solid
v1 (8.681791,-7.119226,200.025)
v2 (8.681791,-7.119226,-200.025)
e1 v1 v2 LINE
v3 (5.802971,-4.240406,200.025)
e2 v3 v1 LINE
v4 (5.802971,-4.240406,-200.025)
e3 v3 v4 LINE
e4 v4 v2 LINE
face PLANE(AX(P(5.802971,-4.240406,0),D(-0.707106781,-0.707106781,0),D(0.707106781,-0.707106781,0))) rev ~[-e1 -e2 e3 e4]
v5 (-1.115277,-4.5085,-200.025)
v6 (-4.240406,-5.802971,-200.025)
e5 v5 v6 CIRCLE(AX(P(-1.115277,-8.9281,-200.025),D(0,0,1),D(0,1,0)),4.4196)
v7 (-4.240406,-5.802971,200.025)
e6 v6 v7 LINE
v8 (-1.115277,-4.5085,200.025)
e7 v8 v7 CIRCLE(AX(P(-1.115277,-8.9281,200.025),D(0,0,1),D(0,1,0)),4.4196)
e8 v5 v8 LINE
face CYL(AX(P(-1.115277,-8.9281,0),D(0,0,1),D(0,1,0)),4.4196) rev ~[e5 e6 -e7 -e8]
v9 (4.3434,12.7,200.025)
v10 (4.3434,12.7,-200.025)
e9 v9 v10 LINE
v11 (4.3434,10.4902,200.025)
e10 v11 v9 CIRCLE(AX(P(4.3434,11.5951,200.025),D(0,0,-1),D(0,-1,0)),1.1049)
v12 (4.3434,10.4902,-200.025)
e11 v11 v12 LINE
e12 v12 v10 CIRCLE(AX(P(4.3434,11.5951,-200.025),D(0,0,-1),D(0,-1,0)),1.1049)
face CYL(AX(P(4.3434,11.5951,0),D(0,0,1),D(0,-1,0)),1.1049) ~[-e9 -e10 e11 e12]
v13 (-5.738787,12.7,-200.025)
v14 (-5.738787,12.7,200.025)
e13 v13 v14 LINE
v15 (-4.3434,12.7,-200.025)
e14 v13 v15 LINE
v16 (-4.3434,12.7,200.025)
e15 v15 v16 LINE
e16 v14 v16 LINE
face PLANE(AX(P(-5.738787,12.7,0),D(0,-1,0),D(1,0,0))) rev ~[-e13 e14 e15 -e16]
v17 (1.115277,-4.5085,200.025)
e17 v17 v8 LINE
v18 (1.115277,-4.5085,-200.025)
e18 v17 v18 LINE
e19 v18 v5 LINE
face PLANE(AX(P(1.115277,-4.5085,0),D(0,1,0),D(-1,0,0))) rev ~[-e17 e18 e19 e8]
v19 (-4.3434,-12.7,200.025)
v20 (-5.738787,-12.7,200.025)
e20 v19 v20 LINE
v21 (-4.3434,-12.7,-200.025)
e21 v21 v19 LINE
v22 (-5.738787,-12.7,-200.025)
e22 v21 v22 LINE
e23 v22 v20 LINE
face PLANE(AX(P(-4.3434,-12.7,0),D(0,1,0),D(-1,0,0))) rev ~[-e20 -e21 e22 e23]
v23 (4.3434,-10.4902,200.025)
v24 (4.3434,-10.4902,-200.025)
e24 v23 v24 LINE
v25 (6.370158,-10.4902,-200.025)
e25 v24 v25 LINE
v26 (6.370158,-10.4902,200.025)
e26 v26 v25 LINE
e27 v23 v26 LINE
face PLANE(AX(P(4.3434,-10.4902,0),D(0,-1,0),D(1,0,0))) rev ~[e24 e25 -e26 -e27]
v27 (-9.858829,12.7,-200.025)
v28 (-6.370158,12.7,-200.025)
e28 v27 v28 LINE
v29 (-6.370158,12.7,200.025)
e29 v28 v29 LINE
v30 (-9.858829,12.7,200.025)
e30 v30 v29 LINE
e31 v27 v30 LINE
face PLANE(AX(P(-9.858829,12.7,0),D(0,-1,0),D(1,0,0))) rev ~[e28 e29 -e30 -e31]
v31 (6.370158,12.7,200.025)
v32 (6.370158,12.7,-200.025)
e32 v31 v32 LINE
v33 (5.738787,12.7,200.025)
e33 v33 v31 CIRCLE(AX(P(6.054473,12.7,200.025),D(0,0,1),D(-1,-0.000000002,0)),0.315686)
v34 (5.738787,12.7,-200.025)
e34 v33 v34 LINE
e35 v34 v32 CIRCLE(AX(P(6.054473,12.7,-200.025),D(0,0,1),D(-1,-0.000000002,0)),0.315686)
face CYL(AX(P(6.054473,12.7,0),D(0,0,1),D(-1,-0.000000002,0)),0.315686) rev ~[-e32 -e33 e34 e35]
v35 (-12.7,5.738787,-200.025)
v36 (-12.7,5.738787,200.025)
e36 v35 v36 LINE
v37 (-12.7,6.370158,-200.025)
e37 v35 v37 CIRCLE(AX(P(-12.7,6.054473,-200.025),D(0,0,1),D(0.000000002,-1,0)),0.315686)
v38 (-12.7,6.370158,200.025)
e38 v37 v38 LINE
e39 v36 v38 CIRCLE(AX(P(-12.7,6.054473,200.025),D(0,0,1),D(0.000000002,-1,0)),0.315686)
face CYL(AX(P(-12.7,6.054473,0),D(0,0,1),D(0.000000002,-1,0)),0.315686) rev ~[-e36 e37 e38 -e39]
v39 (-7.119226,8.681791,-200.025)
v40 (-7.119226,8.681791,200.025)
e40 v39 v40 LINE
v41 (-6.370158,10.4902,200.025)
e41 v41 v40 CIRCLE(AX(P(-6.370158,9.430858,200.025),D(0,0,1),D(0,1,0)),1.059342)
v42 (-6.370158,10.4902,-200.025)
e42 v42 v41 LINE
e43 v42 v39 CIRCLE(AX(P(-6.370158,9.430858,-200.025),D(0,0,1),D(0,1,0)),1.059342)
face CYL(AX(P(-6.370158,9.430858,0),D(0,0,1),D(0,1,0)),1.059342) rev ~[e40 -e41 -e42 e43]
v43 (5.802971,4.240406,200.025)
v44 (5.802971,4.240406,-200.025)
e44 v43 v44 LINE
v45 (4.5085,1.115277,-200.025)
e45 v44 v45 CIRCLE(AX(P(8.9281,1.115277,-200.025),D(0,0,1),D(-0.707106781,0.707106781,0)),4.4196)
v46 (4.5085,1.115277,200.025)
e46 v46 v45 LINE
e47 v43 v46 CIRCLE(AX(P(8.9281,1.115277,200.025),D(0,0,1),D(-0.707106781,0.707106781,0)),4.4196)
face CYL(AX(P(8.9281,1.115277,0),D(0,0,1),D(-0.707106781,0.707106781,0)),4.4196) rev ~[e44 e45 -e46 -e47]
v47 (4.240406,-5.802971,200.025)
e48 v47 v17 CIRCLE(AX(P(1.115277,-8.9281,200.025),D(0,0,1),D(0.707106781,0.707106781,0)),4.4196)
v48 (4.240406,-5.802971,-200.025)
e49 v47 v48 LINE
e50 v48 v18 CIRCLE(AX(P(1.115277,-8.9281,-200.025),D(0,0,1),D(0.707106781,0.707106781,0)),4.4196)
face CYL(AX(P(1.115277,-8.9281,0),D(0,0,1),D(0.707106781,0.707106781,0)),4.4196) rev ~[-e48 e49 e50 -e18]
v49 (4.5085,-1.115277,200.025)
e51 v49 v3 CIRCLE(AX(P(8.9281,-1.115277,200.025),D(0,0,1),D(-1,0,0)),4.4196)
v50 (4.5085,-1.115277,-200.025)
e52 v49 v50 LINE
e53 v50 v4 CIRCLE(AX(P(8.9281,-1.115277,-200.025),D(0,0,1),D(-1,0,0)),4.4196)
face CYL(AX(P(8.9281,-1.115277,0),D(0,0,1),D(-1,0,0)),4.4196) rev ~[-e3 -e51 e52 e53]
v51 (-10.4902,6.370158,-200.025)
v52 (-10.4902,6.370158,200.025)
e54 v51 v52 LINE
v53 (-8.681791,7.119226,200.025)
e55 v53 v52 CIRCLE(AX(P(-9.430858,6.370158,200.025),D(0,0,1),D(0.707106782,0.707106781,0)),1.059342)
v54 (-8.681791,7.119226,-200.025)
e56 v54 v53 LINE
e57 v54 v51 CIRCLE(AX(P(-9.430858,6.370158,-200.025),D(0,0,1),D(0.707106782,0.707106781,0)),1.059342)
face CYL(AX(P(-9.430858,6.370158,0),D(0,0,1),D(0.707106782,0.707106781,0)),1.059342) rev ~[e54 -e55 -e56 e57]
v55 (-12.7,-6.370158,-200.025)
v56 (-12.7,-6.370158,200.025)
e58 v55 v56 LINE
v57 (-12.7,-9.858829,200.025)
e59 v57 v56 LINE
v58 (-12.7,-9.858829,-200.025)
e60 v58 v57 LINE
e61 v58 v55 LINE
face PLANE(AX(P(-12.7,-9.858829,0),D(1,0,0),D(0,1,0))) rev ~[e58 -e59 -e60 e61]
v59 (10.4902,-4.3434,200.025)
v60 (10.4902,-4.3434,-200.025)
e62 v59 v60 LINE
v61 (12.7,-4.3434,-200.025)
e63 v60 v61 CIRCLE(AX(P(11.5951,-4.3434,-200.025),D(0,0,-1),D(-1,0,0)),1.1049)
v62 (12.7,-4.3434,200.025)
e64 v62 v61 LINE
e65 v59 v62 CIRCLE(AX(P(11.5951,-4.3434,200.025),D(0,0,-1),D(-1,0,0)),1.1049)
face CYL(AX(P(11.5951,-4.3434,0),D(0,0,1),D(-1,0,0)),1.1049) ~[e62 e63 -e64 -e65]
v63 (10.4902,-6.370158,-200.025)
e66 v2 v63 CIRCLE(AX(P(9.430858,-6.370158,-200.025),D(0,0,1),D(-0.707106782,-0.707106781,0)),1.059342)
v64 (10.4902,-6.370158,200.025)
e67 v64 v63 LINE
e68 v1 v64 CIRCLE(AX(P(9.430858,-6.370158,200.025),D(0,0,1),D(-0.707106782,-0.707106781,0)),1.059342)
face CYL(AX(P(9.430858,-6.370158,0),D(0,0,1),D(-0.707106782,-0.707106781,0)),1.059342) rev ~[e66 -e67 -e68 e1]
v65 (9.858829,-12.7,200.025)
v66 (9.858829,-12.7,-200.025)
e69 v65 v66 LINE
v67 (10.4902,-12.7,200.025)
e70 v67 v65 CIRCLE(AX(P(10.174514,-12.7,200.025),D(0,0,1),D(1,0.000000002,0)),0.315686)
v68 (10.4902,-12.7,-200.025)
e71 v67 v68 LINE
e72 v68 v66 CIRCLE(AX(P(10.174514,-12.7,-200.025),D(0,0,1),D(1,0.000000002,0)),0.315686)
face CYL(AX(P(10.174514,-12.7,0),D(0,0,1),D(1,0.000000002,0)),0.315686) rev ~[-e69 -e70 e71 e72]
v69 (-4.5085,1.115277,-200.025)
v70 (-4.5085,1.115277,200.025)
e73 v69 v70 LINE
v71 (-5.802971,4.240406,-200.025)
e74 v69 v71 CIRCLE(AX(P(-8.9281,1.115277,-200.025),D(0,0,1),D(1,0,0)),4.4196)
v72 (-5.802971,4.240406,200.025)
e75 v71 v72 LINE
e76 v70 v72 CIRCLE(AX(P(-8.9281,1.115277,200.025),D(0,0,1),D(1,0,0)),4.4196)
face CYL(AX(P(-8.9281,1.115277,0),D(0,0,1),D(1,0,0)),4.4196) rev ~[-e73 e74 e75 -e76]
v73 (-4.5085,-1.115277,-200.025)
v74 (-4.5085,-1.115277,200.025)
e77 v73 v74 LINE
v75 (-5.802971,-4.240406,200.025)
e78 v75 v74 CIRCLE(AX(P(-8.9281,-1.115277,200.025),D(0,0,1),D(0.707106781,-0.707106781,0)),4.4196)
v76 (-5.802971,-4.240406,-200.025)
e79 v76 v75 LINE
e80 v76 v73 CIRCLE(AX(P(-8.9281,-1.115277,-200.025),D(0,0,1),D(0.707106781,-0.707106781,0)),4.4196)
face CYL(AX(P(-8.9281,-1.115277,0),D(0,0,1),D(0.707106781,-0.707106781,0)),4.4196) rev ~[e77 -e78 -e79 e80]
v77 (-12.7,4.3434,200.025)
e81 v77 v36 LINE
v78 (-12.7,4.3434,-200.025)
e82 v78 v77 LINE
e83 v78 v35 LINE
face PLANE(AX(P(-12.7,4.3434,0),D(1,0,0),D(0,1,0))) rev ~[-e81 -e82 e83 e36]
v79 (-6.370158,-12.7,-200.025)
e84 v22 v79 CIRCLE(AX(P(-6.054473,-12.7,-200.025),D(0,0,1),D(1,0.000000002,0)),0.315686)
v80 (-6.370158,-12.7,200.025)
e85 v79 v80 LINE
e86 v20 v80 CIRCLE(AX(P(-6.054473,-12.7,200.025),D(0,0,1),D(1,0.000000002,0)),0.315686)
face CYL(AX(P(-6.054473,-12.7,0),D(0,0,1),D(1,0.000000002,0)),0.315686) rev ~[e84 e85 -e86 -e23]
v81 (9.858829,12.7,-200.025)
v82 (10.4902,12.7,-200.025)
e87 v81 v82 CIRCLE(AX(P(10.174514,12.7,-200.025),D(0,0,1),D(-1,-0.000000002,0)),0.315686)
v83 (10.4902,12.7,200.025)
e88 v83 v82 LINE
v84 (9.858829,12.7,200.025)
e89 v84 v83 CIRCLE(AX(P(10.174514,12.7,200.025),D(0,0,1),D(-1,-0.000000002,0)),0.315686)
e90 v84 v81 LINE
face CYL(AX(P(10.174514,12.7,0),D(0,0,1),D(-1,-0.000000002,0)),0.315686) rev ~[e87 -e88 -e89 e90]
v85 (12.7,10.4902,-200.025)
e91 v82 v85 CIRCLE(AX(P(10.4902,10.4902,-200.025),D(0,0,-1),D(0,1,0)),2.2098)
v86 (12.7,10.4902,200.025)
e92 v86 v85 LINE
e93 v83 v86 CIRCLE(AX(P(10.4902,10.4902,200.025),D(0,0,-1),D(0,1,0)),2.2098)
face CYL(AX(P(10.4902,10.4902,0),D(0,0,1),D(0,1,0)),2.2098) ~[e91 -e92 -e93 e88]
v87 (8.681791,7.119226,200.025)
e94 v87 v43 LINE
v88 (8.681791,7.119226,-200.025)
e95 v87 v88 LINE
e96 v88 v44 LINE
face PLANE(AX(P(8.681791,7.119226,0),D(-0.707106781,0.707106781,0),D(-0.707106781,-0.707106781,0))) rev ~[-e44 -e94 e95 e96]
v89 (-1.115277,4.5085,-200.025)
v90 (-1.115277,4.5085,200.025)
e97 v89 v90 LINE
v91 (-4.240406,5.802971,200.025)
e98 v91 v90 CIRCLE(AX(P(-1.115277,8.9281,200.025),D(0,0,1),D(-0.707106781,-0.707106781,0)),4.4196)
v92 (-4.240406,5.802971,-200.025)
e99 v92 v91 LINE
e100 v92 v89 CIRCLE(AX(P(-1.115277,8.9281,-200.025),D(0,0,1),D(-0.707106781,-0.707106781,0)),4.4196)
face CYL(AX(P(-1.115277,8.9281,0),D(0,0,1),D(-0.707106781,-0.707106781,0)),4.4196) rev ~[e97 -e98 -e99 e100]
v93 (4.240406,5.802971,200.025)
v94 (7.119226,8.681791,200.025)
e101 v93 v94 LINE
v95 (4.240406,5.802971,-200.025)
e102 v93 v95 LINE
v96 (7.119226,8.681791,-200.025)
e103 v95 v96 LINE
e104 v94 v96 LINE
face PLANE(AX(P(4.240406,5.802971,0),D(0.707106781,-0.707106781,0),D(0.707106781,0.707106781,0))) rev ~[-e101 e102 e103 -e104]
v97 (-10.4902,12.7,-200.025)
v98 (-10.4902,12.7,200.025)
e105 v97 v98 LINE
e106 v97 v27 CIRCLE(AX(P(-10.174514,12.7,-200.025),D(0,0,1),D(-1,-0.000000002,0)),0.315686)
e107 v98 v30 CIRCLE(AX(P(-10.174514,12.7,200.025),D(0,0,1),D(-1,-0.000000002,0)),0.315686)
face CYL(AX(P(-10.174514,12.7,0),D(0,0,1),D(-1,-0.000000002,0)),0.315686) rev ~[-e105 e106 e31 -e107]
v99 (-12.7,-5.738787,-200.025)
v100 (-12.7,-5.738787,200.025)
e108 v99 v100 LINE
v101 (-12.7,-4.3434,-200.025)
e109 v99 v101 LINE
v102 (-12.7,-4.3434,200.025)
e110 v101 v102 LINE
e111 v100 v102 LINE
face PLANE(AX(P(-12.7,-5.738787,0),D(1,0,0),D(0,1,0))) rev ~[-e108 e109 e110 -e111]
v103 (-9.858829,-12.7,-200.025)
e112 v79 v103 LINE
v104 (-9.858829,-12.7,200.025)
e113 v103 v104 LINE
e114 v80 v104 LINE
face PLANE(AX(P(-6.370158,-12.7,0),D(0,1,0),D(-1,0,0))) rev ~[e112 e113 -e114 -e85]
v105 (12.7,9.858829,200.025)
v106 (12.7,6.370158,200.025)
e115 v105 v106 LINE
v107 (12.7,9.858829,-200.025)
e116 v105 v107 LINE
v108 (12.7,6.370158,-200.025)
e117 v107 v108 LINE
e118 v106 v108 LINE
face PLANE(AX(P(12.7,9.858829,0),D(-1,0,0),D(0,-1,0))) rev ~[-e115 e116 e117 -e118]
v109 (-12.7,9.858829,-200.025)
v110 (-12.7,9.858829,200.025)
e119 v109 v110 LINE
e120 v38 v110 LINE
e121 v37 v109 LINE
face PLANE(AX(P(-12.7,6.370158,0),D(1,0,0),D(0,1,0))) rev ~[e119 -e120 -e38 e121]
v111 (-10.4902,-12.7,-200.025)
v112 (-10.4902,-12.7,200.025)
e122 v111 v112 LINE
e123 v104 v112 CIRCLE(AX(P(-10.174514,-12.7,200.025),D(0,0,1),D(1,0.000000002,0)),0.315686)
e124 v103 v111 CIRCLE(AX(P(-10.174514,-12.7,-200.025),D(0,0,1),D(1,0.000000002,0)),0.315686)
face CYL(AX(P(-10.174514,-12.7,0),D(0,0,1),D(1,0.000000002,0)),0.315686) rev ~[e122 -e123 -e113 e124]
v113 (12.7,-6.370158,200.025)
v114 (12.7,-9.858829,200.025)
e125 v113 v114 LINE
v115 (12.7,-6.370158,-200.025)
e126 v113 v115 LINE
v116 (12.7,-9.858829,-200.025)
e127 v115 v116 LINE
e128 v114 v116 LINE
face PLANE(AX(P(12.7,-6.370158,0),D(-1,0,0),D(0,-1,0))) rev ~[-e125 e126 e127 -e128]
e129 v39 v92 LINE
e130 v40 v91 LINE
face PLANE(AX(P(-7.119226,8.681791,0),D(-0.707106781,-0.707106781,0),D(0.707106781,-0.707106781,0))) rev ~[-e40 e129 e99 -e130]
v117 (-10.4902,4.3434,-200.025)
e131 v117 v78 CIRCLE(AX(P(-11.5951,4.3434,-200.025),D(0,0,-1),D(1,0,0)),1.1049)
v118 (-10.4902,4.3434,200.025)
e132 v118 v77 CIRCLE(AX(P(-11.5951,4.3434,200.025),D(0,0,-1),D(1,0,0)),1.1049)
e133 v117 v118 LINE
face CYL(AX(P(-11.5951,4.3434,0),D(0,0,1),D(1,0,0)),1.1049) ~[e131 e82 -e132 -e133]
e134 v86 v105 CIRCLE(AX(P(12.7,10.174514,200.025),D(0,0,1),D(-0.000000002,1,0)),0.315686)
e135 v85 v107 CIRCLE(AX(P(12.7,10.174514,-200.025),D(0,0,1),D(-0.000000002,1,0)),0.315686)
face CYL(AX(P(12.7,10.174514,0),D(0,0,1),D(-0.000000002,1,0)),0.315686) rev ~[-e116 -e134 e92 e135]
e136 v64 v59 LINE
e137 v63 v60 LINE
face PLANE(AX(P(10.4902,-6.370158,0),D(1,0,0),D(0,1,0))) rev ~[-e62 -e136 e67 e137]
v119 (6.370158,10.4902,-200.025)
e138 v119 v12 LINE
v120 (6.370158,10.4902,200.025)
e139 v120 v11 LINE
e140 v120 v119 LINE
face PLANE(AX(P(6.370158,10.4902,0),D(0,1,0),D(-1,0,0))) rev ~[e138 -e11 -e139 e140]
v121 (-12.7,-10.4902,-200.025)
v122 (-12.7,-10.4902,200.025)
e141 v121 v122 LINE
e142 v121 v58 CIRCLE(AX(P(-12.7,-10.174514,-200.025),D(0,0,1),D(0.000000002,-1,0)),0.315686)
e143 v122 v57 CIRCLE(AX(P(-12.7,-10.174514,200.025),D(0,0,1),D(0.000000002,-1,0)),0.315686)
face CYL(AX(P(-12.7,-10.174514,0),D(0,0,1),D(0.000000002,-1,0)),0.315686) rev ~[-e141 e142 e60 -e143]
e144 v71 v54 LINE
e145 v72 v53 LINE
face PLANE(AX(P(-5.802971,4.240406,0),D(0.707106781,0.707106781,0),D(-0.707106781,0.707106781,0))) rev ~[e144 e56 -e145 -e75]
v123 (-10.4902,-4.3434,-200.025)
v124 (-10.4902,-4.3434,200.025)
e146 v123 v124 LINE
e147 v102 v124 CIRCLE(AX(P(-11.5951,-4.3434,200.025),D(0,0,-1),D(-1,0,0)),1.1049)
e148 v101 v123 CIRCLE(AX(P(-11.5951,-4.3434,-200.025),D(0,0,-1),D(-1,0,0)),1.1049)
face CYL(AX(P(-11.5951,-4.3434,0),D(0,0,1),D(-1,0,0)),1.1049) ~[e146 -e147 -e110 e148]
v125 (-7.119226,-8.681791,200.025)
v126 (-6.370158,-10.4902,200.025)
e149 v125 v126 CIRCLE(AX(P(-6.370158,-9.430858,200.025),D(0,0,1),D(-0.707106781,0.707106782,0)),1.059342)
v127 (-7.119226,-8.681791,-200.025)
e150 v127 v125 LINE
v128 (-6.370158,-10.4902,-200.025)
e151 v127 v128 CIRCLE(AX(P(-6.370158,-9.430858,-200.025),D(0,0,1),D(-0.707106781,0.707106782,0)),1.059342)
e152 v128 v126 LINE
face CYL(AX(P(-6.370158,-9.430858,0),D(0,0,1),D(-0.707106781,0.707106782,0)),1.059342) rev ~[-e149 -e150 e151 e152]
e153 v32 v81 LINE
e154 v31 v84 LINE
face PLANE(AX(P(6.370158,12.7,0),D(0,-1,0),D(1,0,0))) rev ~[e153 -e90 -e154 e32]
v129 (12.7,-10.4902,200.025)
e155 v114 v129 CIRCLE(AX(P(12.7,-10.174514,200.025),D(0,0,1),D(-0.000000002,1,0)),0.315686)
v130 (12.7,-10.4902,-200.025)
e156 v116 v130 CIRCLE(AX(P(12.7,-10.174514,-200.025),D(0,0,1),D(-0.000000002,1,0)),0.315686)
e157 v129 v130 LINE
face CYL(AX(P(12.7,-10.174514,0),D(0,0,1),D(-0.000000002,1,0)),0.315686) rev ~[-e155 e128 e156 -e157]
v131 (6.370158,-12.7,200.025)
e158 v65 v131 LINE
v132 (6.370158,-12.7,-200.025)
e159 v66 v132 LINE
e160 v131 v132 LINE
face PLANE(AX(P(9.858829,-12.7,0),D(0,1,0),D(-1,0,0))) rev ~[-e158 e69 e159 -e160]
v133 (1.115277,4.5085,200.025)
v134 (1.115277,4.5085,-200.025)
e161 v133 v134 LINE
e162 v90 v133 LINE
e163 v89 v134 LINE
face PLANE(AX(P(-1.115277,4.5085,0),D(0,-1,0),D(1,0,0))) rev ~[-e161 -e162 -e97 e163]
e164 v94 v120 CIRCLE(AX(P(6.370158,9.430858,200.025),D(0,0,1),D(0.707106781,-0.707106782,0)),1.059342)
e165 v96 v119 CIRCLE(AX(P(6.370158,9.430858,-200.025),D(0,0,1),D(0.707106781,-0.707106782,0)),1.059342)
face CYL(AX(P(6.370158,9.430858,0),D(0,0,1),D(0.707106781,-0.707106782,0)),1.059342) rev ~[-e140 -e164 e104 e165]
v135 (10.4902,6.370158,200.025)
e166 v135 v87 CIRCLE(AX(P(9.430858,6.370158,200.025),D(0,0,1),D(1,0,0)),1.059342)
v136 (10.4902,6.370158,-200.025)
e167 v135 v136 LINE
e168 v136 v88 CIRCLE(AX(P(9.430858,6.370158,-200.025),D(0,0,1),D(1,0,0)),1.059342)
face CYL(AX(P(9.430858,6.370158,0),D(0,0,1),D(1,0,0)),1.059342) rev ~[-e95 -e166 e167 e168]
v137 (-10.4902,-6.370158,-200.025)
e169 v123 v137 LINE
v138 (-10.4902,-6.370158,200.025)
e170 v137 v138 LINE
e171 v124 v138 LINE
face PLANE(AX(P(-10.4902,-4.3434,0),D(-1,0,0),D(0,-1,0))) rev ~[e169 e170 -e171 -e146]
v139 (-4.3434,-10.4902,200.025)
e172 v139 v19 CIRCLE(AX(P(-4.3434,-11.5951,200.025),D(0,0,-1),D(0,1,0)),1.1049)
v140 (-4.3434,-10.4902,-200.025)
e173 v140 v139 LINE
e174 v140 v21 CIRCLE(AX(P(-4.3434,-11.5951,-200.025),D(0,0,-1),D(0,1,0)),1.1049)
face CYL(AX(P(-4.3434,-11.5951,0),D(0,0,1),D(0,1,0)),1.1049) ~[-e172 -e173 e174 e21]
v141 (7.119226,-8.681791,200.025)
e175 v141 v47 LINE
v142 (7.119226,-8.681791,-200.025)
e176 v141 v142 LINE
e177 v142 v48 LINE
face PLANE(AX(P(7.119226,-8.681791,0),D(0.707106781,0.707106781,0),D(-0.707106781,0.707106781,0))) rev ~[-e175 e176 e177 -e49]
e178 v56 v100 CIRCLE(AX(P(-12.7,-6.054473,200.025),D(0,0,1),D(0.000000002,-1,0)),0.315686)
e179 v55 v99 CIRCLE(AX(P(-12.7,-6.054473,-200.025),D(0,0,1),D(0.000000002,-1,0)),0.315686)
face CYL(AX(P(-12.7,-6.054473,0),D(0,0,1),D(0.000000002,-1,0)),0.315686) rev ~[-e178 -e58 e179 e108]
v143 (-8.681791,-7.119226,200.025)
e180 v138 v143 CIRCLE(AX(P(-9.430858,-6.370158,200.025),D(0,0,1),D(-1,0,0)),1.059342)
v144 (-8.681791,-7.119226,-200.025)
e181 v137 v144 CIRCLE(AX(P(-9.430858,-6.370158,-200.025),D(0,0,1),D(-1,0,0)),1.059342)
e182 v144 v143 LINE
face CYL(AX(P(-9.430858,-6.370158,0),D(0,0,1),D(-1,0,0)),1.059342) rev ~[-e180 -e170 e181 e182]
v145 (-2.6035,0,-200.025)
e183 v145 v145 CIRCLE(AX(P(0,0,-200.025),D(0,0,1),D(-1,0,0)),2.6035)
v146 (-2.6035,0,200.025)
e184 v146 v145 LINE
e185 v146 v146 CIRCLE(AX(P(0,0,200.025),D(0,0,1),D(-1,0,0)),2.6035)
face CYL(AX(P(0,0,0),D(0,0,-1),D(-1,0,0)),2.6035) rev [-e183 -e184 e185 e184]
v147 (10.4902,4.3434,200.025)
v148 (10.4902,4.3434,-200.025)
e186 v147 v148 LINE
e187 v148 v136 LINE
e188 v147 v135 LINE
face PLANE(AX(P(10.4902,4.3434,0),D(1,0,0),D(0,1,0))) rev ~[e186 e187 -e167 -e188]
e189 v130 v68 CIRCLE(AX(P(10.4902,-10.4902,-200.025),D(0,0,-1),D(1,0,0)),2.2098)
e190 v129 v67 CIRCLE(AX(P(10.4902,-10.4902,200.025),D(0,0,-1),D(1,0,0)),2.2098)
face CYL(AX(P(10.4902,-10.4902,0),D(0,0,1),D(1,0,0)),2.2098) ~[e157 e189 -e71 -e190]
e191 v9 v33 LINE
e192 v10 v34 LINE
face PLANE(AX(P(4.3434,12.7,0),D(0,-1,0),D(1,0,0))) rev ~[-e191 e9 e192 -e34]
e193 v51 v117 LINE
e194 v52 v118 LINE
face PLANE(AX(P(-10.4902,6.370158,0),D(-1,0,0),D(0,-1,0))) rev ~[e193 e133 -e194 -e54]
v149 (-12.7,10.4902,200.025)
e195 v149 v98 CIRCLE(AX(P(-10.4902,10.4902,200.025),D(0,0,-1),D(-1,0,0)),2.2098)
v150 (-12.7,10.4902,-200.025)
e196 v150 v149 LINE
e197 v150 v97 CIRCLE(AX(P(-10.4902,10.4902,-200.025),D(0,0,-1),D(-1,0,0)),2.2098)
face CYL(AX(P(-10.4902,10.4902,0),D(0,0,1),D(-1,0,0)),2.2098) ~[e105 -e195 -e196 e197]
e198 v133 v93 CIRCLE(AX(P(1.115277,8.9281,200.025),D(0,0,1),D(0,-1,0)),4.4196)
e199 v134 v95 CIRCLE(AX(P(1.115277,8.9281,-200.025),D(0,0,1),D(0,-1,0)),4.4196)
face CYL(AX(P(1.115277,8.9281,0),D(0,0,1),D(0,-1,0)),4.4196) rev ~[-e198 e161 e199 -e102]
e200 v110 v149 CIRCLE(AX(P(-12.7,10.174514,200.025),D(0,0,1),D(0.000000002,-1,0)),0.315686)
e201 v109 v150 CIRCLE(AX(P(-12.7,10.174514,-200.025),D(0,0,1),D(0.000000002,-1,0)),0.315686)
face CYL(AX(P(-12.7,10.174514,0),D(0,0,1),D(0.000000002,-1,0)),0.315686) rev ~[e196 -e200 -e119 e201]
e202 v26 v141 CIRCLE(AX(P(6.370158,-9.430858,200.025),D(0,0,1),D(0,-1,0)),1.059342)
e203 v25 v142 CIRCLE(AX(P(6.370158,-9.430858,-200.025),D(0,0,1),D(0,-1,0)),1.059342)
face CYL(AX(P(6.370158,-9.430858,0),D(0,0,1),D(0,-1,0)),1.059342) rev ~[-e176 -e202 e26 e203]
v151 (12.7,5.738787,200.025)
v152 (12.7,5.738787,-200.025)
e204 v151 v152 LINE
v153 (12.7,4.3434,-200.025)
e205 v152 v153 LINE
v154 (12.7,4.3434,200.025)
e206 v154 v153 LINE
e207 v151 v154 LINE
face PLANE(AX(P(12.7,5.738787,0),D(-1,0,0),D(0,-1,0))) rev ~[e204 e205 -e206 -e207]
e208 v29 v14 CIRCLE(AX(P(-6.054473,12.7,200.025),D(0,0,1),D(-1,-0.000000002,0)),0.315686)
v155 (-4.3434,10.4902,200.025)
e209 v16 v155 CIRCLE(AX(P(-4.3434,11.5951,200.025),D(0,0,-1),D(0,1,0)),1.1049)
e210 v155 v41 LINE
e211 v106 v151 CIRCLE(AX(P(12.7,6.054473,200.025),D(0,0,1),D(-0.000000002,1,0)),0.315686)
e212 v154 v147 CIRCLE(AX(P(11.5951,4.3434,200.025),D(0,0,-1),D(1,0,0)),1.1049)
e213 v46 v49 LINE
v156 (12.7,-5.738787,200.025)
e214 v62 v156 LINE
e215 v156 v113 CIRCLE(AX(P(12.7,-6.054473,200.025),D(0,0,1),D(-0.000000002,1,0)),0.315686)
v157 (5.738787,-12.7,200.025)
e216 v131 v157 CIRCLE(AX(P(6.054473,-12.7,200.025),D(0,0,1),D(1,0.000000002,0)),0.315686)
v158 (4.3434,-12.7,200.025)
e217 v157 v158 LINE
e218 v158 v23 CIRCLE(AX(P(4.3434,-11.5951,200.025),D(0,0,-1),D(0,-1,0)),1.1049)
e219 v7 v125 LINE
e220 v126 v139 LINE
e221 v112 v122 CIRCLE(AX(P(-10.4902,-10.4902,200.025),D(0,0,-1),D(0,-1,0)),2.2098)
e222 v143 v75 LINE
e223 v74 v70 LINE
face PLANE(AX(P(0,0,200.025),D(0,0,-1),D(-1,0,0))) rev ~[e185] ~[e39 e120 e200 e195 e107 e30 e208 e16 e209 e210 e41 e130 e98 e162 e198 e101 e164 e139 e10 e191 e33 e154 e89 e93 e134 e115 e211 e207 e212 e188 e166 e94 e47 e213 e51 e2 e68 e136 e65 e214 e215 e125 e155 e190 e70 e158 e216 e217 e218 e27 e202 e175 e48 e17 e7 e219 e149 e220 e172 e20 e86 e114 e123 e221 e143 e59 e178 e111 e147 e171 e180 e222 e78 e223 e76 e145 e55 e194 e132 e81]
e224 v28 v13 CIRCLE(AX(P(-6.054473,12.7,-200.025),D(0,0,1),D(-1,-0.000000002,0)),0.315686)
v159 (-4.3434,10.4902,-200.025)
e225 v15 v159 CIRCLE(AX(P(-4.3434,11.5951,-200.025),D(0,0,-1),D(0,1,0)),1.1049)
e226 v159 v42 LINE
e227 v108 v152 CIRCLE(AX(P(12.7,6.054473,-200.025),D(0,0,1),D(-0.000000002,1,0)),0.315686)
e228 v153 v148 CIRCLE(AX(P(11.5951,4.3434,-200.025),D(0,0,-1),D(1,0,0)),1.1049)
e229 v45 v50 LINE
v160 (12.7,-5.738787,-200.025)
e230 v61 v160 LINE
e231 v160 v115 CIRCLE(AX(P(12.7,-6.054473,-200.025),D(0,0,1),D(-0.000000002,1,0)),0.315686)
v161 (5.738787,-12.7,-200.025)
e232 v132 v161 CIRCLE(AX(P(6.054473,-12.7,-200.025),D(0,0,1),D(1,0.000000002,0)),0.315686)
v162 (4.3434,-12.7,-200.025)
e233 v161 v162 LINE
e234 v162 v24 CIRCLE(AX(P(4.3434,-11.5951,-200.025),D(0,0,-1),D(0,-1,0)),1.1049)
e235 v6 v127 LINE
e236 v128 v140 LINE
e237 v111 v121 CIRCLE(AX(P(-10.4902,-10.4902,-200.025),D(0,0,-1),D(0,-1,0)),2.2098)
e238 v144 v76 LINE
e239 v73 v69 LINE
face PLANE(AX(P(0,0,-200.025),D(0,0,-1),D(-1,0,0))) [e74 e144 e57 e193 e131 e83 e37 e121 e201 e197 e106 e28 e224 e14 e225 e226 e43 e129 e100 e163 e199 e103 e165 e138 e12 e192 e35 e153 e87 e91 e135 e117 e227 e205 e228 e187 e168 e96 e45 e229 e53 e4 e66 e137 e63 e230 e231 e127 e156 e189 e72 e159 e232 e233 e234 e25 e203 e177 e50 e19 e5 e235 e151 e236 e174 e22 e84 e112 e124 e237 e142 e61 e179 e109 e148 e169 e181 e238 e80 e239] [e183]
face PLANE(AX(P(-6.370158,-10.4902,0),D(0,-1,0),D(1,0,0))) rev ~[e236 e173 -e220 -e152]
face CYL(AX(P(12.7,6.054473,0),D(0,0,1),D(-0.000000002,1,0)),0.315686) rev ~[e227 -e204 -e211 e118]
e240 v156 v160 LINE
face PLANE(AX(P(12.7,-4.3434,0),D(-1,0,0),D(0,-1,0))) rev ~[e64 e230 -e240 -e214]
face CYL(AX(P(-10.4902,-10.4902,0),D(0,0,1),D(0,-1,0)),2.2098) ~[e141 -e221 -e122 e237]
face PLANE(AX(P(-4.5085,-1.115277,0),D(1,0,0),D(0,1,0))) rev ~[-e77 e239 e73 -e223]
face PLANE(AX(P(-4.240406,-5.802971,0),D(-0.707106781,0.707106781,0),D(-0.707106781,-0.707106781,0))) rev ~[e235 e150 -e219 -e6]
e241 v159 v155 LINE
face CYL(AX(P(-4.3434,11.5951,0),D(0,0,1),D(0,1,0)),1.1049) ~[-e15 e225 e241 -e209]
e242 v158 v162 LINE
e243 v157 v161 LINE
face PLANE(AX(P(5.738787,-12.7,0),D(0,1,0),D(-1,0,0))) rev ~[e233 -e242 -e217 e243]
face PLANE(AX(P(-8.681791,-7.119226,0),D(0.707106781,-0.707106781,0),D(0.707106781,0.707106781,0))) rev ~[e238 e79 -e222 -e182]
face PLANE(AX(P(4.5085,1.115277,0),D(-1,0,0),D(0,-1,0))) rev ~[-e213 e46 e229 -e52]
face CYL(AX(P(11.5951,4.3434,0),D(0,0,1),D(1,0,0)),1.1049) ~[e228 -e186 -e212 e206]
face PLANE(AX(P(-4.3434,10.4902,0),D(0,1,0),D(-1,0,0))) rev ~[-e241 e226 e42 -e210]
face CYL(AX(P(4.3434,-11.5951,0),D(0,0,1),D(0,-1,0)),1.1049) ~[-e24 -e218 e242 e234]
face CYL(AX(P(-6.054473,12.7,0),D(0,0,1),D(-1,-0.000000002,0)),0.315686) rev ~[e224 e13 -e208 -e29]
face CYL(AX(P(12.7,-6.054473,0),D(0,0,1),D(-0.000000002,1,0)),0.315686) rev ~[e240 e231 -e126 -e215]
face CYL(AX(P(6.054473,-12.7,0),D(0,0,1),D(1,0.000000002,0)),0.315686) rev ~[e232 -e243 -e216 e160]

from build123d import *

# Parameters (mm, degrees)
SKETCH3_R      = 2.6035
EXTRUDE1_DEPTH = 200.025


with BuildPart() as part:
    # Sketch3 → Extrude1 (new, symmetric)
    with BuildSketch(Plane.XY):
        with BuildLine():
            Line((-1.115277175, 4.5085), (1.115277175, 4.5085))
            ThreePointArc((1.115277175, 4.5085), (2.806584872, 4.844922018), (4.240406305, 5.80297087))
            Line((4.240406305, 5.80297087), (7.119225992, 8.681790557))
            ThreePointArc((7.119225992, 8.681790557), (7.348862413, 9.836250802), (6.370158275, 10.4902))
            Line((6.370158275, 10.4902), (4.3434, 10.4902))
            ThreePointArc((4.3434, 10.4902), (3.2385, 11.5951), (4.3434, 12.7))
            Line((4.3434, 12.7), (5.738786846, 12.7))
            ThreePointArc((5.738786846, 12.7), (6.054472561, 12.384314286), (6.370158275, 12.7))
            Line((6.370158275, 12.7), (9.858828571, 12.7))
            ThreePointArc((9.858828571, 12.7), (10.174514286, 12.384314286), (10.4902, 12.7))
            ThreePointArc((10.4902, 12.7), (12.052764565, 12.052764565), (12.7, 10.4902))
            ThreePointArc((12.7, 10.4902), (12.384314286, 10.174514286), (12.7, 9.858828571))
            Line((12.7, 9.858828571), (12.7, 6.370158275))
            ThreePointArc((12.7, 6.370158275), (12.384314286, 6.054472561), (12.7, 5.738786846))
            Line((12.7, 5.738786846), (12.7, 4.3434))
            ThreePointArc((12.7, 4.3434), (11.5951, 3.2385), (10.4902, 4.3434))
            Line((10.4902, 4.3434), (10.4902, 6.370158275))
            ThreePointArc((10.4902, 6.370158275), (9.836250802, 7.348862413), (8.681790557, 7.119225992))
            Line((8.681790557, 7.119225992), (5.80297087, 4.240406305))
            ThreePointArc((5.80297087, 4.240406305), (4.844922018, 2.806584872), (4.5085, 1.115277175))
            Line((4.5085, 1.115277175), (4.5085, -1.115277175))
            ThreePointArc((4.5085, -1.115277175), (4.844922018, -2.806584872), (5.80297087, -4.240406305))
            Line((5.80297087, -4.240406305), (8.681790557, -7.119225992))
            ThreePointArc((8.681790557, -7.119225992), (9.836250802, -7.348862413), (10.4902, -6.370158275))
            Line((10.4902, -6.370158275), (10.4902, -4.3434))
            ThreePointArc((10.4902, -4.3434), (11.5951, -3.2385), (12.7, -4.3434))
            Line((12.7, -4.3434), (12.7, -5.738786846))
            ThreePointArc((12.7, -5.738786846), (12.384314286, -6.054472561), (12.7, -6.370158275))
            Line((12.7, -6.370158275), (12.7, -9.858828571))
            ThreePointArc((12.7, -9.858828571), (12.384314286, -10.174514286), (12.7, -10.4902))
            ThreePointArc((12.7, -10.4902), (12.052764565, -12.052764565), (10.4902, -12.7))
            ThreePointArc((10.4902, -12.7), (10.174514286, -12.384314286), (9.858828571, -12.7))
            Line((9.858828571, -12.7), (6.370158275, -12.7))
            ThreePointArc((6.370158275, -12.7), (6.054472561, -12.384314286), (5.738786846, -12.7))
            Line((5.738786846, -12.7), (4.3434, -12.7))
            ThreePointArc((4.3434, -12.7), (3.2385, -11.5951), (4.3434, -10.4902))
            Line((4.3434, -10.4902), (6.370158275, -10.4902))
            ThreePointArc((6.370158275, -10.4902), (7.348862413, -9.836250802), (7.119225992, -8.681790557))
            Line((7.119225992, -8.681790557), (4.240406305, -5.80297087))
            ThreePointArc((4.240406305, -5.80297087), (2.806584872, -4.844922018), (1.115277175, -4.5085))
            Line((1.115277175, -4.5085), (-1.115277175, -4.5085))
            ThreePointArc((-1.115277175, -4.5085), (-2.806584872, -4.844922018), (-4.240406305, -5.80297087))
            Line((-4.240406305, -5.80297087), (-7.119225992, -8.681790557))
            ThreePointArc((-7.119225992, -8.681790557), (-7.348862413, -9.836250802), (-6.370158275, -10.4902))
            Line((-6.370158275, -10.4902), (-4.3434, -10.4902))
            ThreePointArc((-4.3434, -10.4902), (-3.2385, -11.5951), (-4.3434, -12.7))
            Line((-4.3434, -12.7), (-5.738786846, -12.7))
            ThreePointArc((-5.738786846, -12.7), (-6.054472561, -12.384314286), (-6.370158275, -12.7))
            Line((-6.370158275, -12.7), (-9.858828571, -12.7))
            ThreePointArc((-9.858828571, -12.7), (-10.174514286, -12.384314286), (-10.4902, -12.7))
            ThreePointArc((-10.4902, -12.7), (-12.052764565, -12.052764565), (-12.7, -10.4902))
            ThreePointArc((-12.7, -10.4902), (-12.384314286, -10.174514286), (-12.7, -9.858828571))
            Line((-12.7, -9.858828571), (-12.7, -6.370158275))
            ThreePointArc((-12.7, -6.370158275), (-12.384314286, -6.054472561), (-12.7, -5.738786846))
            Line((-12.7, -5.738786846), (-12.7, -4.3434))
            ThreePointArc((-12.7, -4.3434), (-11.5951, -3.2385), (-10.4902, -4.3434))
            Line((-10.4902, -4.3434), (-10.4902, -6.370158275))
            ThreePointArc((-10.4902, -6.370158275), (-9.836250802, -7.348862413), (-8.681790557, -7.119225992))
            Line((-8.681790557, -7.119225992), (-5.80297087, -4.240406305))
            ThreePointArc((-5.80297087, -4.240406305), (-4.844922018, -2.806584872), (-4.5085, -1.115277175))
            Line((-4.5085, -1.115277175), (-4.5085, 1.115277175))
            ThreePointArc((-4.5085, 1.115277175), (-4.844922018, 2.806584872), (-5.80297087, 4.240406305))
            Line((-5.80297087, 4.240406305), (-8.681790557, 7.119225992))
            ThreePointArc((-8.681790557, 7.119225992), (-9.836250802, 7.348862413), (-10.4902, 6.370158275))
            Line((-10.4902, 6.370158275), (-10.4902, 4.3434))
            ThreePointArc((-10.4902, 4.3434), (-11.5951, 3.2385), (-12.7, 4.3434))
            Line((-12.7, 4.3434), (-12.7, 5.738786846))
            ThreePointArc((-12.7, 5.738786846), (-12.384314286, 6.054472561), (-12.7, 6.370158275))
            Line((-12.7, 6.370158275), (-12.7, 9.858828571))
            ThreePointArc((-12.7, 9.858828571), (-12.384314286, 10.174514286), (-12.7, 10.4902))
            ThreePointArc((-12.7, 10.4902), (-12.052764565, 12.052764565), (-10.4902, 12.7))
            ThreePointArc((-10.4902, 12.7), (-10.174514286, 12.384314286), (-9.858828571, 12.7))
            Line((-9.858828571, 12.7), (-6.370158275, 12.7))
            ThreePointArc((-6.370158275, 12.7), (-6.054472561, 12.384314286), (-5.738786846, 12.7))
            Line((-5.738786846, 12.7), (-4.3434, 12.7))
            ThreePointArc((-4.3434, 12.7), (-3.2385, 11.5951), (-4.3434, 10.4902))
            Line((-4.3434, 10.4902), (-6.370158275, 10.4902))
            ThreePointArc((-6.370158275, 10.4902), (-7.348862413, 9.836250802), (-7.119225992, 8.681790557))
            Line((-7.119225992, 8.681790557), (-4.240406305, 5.80297087))
            ThreePointArc((-4.240406305, 5.80297087), (-2.806584872, 4.844922018), (-1.115277175, 4.5085))
        make_face()
        with Locations(Location((0, 0, 0), (0, 0, 180))):
            Circle(SKETCH3_R, mode=Mode.SUBTRACT)
    extrude(amount=EXTRUDE1_DEPTH, both=True)


solid = part.part
